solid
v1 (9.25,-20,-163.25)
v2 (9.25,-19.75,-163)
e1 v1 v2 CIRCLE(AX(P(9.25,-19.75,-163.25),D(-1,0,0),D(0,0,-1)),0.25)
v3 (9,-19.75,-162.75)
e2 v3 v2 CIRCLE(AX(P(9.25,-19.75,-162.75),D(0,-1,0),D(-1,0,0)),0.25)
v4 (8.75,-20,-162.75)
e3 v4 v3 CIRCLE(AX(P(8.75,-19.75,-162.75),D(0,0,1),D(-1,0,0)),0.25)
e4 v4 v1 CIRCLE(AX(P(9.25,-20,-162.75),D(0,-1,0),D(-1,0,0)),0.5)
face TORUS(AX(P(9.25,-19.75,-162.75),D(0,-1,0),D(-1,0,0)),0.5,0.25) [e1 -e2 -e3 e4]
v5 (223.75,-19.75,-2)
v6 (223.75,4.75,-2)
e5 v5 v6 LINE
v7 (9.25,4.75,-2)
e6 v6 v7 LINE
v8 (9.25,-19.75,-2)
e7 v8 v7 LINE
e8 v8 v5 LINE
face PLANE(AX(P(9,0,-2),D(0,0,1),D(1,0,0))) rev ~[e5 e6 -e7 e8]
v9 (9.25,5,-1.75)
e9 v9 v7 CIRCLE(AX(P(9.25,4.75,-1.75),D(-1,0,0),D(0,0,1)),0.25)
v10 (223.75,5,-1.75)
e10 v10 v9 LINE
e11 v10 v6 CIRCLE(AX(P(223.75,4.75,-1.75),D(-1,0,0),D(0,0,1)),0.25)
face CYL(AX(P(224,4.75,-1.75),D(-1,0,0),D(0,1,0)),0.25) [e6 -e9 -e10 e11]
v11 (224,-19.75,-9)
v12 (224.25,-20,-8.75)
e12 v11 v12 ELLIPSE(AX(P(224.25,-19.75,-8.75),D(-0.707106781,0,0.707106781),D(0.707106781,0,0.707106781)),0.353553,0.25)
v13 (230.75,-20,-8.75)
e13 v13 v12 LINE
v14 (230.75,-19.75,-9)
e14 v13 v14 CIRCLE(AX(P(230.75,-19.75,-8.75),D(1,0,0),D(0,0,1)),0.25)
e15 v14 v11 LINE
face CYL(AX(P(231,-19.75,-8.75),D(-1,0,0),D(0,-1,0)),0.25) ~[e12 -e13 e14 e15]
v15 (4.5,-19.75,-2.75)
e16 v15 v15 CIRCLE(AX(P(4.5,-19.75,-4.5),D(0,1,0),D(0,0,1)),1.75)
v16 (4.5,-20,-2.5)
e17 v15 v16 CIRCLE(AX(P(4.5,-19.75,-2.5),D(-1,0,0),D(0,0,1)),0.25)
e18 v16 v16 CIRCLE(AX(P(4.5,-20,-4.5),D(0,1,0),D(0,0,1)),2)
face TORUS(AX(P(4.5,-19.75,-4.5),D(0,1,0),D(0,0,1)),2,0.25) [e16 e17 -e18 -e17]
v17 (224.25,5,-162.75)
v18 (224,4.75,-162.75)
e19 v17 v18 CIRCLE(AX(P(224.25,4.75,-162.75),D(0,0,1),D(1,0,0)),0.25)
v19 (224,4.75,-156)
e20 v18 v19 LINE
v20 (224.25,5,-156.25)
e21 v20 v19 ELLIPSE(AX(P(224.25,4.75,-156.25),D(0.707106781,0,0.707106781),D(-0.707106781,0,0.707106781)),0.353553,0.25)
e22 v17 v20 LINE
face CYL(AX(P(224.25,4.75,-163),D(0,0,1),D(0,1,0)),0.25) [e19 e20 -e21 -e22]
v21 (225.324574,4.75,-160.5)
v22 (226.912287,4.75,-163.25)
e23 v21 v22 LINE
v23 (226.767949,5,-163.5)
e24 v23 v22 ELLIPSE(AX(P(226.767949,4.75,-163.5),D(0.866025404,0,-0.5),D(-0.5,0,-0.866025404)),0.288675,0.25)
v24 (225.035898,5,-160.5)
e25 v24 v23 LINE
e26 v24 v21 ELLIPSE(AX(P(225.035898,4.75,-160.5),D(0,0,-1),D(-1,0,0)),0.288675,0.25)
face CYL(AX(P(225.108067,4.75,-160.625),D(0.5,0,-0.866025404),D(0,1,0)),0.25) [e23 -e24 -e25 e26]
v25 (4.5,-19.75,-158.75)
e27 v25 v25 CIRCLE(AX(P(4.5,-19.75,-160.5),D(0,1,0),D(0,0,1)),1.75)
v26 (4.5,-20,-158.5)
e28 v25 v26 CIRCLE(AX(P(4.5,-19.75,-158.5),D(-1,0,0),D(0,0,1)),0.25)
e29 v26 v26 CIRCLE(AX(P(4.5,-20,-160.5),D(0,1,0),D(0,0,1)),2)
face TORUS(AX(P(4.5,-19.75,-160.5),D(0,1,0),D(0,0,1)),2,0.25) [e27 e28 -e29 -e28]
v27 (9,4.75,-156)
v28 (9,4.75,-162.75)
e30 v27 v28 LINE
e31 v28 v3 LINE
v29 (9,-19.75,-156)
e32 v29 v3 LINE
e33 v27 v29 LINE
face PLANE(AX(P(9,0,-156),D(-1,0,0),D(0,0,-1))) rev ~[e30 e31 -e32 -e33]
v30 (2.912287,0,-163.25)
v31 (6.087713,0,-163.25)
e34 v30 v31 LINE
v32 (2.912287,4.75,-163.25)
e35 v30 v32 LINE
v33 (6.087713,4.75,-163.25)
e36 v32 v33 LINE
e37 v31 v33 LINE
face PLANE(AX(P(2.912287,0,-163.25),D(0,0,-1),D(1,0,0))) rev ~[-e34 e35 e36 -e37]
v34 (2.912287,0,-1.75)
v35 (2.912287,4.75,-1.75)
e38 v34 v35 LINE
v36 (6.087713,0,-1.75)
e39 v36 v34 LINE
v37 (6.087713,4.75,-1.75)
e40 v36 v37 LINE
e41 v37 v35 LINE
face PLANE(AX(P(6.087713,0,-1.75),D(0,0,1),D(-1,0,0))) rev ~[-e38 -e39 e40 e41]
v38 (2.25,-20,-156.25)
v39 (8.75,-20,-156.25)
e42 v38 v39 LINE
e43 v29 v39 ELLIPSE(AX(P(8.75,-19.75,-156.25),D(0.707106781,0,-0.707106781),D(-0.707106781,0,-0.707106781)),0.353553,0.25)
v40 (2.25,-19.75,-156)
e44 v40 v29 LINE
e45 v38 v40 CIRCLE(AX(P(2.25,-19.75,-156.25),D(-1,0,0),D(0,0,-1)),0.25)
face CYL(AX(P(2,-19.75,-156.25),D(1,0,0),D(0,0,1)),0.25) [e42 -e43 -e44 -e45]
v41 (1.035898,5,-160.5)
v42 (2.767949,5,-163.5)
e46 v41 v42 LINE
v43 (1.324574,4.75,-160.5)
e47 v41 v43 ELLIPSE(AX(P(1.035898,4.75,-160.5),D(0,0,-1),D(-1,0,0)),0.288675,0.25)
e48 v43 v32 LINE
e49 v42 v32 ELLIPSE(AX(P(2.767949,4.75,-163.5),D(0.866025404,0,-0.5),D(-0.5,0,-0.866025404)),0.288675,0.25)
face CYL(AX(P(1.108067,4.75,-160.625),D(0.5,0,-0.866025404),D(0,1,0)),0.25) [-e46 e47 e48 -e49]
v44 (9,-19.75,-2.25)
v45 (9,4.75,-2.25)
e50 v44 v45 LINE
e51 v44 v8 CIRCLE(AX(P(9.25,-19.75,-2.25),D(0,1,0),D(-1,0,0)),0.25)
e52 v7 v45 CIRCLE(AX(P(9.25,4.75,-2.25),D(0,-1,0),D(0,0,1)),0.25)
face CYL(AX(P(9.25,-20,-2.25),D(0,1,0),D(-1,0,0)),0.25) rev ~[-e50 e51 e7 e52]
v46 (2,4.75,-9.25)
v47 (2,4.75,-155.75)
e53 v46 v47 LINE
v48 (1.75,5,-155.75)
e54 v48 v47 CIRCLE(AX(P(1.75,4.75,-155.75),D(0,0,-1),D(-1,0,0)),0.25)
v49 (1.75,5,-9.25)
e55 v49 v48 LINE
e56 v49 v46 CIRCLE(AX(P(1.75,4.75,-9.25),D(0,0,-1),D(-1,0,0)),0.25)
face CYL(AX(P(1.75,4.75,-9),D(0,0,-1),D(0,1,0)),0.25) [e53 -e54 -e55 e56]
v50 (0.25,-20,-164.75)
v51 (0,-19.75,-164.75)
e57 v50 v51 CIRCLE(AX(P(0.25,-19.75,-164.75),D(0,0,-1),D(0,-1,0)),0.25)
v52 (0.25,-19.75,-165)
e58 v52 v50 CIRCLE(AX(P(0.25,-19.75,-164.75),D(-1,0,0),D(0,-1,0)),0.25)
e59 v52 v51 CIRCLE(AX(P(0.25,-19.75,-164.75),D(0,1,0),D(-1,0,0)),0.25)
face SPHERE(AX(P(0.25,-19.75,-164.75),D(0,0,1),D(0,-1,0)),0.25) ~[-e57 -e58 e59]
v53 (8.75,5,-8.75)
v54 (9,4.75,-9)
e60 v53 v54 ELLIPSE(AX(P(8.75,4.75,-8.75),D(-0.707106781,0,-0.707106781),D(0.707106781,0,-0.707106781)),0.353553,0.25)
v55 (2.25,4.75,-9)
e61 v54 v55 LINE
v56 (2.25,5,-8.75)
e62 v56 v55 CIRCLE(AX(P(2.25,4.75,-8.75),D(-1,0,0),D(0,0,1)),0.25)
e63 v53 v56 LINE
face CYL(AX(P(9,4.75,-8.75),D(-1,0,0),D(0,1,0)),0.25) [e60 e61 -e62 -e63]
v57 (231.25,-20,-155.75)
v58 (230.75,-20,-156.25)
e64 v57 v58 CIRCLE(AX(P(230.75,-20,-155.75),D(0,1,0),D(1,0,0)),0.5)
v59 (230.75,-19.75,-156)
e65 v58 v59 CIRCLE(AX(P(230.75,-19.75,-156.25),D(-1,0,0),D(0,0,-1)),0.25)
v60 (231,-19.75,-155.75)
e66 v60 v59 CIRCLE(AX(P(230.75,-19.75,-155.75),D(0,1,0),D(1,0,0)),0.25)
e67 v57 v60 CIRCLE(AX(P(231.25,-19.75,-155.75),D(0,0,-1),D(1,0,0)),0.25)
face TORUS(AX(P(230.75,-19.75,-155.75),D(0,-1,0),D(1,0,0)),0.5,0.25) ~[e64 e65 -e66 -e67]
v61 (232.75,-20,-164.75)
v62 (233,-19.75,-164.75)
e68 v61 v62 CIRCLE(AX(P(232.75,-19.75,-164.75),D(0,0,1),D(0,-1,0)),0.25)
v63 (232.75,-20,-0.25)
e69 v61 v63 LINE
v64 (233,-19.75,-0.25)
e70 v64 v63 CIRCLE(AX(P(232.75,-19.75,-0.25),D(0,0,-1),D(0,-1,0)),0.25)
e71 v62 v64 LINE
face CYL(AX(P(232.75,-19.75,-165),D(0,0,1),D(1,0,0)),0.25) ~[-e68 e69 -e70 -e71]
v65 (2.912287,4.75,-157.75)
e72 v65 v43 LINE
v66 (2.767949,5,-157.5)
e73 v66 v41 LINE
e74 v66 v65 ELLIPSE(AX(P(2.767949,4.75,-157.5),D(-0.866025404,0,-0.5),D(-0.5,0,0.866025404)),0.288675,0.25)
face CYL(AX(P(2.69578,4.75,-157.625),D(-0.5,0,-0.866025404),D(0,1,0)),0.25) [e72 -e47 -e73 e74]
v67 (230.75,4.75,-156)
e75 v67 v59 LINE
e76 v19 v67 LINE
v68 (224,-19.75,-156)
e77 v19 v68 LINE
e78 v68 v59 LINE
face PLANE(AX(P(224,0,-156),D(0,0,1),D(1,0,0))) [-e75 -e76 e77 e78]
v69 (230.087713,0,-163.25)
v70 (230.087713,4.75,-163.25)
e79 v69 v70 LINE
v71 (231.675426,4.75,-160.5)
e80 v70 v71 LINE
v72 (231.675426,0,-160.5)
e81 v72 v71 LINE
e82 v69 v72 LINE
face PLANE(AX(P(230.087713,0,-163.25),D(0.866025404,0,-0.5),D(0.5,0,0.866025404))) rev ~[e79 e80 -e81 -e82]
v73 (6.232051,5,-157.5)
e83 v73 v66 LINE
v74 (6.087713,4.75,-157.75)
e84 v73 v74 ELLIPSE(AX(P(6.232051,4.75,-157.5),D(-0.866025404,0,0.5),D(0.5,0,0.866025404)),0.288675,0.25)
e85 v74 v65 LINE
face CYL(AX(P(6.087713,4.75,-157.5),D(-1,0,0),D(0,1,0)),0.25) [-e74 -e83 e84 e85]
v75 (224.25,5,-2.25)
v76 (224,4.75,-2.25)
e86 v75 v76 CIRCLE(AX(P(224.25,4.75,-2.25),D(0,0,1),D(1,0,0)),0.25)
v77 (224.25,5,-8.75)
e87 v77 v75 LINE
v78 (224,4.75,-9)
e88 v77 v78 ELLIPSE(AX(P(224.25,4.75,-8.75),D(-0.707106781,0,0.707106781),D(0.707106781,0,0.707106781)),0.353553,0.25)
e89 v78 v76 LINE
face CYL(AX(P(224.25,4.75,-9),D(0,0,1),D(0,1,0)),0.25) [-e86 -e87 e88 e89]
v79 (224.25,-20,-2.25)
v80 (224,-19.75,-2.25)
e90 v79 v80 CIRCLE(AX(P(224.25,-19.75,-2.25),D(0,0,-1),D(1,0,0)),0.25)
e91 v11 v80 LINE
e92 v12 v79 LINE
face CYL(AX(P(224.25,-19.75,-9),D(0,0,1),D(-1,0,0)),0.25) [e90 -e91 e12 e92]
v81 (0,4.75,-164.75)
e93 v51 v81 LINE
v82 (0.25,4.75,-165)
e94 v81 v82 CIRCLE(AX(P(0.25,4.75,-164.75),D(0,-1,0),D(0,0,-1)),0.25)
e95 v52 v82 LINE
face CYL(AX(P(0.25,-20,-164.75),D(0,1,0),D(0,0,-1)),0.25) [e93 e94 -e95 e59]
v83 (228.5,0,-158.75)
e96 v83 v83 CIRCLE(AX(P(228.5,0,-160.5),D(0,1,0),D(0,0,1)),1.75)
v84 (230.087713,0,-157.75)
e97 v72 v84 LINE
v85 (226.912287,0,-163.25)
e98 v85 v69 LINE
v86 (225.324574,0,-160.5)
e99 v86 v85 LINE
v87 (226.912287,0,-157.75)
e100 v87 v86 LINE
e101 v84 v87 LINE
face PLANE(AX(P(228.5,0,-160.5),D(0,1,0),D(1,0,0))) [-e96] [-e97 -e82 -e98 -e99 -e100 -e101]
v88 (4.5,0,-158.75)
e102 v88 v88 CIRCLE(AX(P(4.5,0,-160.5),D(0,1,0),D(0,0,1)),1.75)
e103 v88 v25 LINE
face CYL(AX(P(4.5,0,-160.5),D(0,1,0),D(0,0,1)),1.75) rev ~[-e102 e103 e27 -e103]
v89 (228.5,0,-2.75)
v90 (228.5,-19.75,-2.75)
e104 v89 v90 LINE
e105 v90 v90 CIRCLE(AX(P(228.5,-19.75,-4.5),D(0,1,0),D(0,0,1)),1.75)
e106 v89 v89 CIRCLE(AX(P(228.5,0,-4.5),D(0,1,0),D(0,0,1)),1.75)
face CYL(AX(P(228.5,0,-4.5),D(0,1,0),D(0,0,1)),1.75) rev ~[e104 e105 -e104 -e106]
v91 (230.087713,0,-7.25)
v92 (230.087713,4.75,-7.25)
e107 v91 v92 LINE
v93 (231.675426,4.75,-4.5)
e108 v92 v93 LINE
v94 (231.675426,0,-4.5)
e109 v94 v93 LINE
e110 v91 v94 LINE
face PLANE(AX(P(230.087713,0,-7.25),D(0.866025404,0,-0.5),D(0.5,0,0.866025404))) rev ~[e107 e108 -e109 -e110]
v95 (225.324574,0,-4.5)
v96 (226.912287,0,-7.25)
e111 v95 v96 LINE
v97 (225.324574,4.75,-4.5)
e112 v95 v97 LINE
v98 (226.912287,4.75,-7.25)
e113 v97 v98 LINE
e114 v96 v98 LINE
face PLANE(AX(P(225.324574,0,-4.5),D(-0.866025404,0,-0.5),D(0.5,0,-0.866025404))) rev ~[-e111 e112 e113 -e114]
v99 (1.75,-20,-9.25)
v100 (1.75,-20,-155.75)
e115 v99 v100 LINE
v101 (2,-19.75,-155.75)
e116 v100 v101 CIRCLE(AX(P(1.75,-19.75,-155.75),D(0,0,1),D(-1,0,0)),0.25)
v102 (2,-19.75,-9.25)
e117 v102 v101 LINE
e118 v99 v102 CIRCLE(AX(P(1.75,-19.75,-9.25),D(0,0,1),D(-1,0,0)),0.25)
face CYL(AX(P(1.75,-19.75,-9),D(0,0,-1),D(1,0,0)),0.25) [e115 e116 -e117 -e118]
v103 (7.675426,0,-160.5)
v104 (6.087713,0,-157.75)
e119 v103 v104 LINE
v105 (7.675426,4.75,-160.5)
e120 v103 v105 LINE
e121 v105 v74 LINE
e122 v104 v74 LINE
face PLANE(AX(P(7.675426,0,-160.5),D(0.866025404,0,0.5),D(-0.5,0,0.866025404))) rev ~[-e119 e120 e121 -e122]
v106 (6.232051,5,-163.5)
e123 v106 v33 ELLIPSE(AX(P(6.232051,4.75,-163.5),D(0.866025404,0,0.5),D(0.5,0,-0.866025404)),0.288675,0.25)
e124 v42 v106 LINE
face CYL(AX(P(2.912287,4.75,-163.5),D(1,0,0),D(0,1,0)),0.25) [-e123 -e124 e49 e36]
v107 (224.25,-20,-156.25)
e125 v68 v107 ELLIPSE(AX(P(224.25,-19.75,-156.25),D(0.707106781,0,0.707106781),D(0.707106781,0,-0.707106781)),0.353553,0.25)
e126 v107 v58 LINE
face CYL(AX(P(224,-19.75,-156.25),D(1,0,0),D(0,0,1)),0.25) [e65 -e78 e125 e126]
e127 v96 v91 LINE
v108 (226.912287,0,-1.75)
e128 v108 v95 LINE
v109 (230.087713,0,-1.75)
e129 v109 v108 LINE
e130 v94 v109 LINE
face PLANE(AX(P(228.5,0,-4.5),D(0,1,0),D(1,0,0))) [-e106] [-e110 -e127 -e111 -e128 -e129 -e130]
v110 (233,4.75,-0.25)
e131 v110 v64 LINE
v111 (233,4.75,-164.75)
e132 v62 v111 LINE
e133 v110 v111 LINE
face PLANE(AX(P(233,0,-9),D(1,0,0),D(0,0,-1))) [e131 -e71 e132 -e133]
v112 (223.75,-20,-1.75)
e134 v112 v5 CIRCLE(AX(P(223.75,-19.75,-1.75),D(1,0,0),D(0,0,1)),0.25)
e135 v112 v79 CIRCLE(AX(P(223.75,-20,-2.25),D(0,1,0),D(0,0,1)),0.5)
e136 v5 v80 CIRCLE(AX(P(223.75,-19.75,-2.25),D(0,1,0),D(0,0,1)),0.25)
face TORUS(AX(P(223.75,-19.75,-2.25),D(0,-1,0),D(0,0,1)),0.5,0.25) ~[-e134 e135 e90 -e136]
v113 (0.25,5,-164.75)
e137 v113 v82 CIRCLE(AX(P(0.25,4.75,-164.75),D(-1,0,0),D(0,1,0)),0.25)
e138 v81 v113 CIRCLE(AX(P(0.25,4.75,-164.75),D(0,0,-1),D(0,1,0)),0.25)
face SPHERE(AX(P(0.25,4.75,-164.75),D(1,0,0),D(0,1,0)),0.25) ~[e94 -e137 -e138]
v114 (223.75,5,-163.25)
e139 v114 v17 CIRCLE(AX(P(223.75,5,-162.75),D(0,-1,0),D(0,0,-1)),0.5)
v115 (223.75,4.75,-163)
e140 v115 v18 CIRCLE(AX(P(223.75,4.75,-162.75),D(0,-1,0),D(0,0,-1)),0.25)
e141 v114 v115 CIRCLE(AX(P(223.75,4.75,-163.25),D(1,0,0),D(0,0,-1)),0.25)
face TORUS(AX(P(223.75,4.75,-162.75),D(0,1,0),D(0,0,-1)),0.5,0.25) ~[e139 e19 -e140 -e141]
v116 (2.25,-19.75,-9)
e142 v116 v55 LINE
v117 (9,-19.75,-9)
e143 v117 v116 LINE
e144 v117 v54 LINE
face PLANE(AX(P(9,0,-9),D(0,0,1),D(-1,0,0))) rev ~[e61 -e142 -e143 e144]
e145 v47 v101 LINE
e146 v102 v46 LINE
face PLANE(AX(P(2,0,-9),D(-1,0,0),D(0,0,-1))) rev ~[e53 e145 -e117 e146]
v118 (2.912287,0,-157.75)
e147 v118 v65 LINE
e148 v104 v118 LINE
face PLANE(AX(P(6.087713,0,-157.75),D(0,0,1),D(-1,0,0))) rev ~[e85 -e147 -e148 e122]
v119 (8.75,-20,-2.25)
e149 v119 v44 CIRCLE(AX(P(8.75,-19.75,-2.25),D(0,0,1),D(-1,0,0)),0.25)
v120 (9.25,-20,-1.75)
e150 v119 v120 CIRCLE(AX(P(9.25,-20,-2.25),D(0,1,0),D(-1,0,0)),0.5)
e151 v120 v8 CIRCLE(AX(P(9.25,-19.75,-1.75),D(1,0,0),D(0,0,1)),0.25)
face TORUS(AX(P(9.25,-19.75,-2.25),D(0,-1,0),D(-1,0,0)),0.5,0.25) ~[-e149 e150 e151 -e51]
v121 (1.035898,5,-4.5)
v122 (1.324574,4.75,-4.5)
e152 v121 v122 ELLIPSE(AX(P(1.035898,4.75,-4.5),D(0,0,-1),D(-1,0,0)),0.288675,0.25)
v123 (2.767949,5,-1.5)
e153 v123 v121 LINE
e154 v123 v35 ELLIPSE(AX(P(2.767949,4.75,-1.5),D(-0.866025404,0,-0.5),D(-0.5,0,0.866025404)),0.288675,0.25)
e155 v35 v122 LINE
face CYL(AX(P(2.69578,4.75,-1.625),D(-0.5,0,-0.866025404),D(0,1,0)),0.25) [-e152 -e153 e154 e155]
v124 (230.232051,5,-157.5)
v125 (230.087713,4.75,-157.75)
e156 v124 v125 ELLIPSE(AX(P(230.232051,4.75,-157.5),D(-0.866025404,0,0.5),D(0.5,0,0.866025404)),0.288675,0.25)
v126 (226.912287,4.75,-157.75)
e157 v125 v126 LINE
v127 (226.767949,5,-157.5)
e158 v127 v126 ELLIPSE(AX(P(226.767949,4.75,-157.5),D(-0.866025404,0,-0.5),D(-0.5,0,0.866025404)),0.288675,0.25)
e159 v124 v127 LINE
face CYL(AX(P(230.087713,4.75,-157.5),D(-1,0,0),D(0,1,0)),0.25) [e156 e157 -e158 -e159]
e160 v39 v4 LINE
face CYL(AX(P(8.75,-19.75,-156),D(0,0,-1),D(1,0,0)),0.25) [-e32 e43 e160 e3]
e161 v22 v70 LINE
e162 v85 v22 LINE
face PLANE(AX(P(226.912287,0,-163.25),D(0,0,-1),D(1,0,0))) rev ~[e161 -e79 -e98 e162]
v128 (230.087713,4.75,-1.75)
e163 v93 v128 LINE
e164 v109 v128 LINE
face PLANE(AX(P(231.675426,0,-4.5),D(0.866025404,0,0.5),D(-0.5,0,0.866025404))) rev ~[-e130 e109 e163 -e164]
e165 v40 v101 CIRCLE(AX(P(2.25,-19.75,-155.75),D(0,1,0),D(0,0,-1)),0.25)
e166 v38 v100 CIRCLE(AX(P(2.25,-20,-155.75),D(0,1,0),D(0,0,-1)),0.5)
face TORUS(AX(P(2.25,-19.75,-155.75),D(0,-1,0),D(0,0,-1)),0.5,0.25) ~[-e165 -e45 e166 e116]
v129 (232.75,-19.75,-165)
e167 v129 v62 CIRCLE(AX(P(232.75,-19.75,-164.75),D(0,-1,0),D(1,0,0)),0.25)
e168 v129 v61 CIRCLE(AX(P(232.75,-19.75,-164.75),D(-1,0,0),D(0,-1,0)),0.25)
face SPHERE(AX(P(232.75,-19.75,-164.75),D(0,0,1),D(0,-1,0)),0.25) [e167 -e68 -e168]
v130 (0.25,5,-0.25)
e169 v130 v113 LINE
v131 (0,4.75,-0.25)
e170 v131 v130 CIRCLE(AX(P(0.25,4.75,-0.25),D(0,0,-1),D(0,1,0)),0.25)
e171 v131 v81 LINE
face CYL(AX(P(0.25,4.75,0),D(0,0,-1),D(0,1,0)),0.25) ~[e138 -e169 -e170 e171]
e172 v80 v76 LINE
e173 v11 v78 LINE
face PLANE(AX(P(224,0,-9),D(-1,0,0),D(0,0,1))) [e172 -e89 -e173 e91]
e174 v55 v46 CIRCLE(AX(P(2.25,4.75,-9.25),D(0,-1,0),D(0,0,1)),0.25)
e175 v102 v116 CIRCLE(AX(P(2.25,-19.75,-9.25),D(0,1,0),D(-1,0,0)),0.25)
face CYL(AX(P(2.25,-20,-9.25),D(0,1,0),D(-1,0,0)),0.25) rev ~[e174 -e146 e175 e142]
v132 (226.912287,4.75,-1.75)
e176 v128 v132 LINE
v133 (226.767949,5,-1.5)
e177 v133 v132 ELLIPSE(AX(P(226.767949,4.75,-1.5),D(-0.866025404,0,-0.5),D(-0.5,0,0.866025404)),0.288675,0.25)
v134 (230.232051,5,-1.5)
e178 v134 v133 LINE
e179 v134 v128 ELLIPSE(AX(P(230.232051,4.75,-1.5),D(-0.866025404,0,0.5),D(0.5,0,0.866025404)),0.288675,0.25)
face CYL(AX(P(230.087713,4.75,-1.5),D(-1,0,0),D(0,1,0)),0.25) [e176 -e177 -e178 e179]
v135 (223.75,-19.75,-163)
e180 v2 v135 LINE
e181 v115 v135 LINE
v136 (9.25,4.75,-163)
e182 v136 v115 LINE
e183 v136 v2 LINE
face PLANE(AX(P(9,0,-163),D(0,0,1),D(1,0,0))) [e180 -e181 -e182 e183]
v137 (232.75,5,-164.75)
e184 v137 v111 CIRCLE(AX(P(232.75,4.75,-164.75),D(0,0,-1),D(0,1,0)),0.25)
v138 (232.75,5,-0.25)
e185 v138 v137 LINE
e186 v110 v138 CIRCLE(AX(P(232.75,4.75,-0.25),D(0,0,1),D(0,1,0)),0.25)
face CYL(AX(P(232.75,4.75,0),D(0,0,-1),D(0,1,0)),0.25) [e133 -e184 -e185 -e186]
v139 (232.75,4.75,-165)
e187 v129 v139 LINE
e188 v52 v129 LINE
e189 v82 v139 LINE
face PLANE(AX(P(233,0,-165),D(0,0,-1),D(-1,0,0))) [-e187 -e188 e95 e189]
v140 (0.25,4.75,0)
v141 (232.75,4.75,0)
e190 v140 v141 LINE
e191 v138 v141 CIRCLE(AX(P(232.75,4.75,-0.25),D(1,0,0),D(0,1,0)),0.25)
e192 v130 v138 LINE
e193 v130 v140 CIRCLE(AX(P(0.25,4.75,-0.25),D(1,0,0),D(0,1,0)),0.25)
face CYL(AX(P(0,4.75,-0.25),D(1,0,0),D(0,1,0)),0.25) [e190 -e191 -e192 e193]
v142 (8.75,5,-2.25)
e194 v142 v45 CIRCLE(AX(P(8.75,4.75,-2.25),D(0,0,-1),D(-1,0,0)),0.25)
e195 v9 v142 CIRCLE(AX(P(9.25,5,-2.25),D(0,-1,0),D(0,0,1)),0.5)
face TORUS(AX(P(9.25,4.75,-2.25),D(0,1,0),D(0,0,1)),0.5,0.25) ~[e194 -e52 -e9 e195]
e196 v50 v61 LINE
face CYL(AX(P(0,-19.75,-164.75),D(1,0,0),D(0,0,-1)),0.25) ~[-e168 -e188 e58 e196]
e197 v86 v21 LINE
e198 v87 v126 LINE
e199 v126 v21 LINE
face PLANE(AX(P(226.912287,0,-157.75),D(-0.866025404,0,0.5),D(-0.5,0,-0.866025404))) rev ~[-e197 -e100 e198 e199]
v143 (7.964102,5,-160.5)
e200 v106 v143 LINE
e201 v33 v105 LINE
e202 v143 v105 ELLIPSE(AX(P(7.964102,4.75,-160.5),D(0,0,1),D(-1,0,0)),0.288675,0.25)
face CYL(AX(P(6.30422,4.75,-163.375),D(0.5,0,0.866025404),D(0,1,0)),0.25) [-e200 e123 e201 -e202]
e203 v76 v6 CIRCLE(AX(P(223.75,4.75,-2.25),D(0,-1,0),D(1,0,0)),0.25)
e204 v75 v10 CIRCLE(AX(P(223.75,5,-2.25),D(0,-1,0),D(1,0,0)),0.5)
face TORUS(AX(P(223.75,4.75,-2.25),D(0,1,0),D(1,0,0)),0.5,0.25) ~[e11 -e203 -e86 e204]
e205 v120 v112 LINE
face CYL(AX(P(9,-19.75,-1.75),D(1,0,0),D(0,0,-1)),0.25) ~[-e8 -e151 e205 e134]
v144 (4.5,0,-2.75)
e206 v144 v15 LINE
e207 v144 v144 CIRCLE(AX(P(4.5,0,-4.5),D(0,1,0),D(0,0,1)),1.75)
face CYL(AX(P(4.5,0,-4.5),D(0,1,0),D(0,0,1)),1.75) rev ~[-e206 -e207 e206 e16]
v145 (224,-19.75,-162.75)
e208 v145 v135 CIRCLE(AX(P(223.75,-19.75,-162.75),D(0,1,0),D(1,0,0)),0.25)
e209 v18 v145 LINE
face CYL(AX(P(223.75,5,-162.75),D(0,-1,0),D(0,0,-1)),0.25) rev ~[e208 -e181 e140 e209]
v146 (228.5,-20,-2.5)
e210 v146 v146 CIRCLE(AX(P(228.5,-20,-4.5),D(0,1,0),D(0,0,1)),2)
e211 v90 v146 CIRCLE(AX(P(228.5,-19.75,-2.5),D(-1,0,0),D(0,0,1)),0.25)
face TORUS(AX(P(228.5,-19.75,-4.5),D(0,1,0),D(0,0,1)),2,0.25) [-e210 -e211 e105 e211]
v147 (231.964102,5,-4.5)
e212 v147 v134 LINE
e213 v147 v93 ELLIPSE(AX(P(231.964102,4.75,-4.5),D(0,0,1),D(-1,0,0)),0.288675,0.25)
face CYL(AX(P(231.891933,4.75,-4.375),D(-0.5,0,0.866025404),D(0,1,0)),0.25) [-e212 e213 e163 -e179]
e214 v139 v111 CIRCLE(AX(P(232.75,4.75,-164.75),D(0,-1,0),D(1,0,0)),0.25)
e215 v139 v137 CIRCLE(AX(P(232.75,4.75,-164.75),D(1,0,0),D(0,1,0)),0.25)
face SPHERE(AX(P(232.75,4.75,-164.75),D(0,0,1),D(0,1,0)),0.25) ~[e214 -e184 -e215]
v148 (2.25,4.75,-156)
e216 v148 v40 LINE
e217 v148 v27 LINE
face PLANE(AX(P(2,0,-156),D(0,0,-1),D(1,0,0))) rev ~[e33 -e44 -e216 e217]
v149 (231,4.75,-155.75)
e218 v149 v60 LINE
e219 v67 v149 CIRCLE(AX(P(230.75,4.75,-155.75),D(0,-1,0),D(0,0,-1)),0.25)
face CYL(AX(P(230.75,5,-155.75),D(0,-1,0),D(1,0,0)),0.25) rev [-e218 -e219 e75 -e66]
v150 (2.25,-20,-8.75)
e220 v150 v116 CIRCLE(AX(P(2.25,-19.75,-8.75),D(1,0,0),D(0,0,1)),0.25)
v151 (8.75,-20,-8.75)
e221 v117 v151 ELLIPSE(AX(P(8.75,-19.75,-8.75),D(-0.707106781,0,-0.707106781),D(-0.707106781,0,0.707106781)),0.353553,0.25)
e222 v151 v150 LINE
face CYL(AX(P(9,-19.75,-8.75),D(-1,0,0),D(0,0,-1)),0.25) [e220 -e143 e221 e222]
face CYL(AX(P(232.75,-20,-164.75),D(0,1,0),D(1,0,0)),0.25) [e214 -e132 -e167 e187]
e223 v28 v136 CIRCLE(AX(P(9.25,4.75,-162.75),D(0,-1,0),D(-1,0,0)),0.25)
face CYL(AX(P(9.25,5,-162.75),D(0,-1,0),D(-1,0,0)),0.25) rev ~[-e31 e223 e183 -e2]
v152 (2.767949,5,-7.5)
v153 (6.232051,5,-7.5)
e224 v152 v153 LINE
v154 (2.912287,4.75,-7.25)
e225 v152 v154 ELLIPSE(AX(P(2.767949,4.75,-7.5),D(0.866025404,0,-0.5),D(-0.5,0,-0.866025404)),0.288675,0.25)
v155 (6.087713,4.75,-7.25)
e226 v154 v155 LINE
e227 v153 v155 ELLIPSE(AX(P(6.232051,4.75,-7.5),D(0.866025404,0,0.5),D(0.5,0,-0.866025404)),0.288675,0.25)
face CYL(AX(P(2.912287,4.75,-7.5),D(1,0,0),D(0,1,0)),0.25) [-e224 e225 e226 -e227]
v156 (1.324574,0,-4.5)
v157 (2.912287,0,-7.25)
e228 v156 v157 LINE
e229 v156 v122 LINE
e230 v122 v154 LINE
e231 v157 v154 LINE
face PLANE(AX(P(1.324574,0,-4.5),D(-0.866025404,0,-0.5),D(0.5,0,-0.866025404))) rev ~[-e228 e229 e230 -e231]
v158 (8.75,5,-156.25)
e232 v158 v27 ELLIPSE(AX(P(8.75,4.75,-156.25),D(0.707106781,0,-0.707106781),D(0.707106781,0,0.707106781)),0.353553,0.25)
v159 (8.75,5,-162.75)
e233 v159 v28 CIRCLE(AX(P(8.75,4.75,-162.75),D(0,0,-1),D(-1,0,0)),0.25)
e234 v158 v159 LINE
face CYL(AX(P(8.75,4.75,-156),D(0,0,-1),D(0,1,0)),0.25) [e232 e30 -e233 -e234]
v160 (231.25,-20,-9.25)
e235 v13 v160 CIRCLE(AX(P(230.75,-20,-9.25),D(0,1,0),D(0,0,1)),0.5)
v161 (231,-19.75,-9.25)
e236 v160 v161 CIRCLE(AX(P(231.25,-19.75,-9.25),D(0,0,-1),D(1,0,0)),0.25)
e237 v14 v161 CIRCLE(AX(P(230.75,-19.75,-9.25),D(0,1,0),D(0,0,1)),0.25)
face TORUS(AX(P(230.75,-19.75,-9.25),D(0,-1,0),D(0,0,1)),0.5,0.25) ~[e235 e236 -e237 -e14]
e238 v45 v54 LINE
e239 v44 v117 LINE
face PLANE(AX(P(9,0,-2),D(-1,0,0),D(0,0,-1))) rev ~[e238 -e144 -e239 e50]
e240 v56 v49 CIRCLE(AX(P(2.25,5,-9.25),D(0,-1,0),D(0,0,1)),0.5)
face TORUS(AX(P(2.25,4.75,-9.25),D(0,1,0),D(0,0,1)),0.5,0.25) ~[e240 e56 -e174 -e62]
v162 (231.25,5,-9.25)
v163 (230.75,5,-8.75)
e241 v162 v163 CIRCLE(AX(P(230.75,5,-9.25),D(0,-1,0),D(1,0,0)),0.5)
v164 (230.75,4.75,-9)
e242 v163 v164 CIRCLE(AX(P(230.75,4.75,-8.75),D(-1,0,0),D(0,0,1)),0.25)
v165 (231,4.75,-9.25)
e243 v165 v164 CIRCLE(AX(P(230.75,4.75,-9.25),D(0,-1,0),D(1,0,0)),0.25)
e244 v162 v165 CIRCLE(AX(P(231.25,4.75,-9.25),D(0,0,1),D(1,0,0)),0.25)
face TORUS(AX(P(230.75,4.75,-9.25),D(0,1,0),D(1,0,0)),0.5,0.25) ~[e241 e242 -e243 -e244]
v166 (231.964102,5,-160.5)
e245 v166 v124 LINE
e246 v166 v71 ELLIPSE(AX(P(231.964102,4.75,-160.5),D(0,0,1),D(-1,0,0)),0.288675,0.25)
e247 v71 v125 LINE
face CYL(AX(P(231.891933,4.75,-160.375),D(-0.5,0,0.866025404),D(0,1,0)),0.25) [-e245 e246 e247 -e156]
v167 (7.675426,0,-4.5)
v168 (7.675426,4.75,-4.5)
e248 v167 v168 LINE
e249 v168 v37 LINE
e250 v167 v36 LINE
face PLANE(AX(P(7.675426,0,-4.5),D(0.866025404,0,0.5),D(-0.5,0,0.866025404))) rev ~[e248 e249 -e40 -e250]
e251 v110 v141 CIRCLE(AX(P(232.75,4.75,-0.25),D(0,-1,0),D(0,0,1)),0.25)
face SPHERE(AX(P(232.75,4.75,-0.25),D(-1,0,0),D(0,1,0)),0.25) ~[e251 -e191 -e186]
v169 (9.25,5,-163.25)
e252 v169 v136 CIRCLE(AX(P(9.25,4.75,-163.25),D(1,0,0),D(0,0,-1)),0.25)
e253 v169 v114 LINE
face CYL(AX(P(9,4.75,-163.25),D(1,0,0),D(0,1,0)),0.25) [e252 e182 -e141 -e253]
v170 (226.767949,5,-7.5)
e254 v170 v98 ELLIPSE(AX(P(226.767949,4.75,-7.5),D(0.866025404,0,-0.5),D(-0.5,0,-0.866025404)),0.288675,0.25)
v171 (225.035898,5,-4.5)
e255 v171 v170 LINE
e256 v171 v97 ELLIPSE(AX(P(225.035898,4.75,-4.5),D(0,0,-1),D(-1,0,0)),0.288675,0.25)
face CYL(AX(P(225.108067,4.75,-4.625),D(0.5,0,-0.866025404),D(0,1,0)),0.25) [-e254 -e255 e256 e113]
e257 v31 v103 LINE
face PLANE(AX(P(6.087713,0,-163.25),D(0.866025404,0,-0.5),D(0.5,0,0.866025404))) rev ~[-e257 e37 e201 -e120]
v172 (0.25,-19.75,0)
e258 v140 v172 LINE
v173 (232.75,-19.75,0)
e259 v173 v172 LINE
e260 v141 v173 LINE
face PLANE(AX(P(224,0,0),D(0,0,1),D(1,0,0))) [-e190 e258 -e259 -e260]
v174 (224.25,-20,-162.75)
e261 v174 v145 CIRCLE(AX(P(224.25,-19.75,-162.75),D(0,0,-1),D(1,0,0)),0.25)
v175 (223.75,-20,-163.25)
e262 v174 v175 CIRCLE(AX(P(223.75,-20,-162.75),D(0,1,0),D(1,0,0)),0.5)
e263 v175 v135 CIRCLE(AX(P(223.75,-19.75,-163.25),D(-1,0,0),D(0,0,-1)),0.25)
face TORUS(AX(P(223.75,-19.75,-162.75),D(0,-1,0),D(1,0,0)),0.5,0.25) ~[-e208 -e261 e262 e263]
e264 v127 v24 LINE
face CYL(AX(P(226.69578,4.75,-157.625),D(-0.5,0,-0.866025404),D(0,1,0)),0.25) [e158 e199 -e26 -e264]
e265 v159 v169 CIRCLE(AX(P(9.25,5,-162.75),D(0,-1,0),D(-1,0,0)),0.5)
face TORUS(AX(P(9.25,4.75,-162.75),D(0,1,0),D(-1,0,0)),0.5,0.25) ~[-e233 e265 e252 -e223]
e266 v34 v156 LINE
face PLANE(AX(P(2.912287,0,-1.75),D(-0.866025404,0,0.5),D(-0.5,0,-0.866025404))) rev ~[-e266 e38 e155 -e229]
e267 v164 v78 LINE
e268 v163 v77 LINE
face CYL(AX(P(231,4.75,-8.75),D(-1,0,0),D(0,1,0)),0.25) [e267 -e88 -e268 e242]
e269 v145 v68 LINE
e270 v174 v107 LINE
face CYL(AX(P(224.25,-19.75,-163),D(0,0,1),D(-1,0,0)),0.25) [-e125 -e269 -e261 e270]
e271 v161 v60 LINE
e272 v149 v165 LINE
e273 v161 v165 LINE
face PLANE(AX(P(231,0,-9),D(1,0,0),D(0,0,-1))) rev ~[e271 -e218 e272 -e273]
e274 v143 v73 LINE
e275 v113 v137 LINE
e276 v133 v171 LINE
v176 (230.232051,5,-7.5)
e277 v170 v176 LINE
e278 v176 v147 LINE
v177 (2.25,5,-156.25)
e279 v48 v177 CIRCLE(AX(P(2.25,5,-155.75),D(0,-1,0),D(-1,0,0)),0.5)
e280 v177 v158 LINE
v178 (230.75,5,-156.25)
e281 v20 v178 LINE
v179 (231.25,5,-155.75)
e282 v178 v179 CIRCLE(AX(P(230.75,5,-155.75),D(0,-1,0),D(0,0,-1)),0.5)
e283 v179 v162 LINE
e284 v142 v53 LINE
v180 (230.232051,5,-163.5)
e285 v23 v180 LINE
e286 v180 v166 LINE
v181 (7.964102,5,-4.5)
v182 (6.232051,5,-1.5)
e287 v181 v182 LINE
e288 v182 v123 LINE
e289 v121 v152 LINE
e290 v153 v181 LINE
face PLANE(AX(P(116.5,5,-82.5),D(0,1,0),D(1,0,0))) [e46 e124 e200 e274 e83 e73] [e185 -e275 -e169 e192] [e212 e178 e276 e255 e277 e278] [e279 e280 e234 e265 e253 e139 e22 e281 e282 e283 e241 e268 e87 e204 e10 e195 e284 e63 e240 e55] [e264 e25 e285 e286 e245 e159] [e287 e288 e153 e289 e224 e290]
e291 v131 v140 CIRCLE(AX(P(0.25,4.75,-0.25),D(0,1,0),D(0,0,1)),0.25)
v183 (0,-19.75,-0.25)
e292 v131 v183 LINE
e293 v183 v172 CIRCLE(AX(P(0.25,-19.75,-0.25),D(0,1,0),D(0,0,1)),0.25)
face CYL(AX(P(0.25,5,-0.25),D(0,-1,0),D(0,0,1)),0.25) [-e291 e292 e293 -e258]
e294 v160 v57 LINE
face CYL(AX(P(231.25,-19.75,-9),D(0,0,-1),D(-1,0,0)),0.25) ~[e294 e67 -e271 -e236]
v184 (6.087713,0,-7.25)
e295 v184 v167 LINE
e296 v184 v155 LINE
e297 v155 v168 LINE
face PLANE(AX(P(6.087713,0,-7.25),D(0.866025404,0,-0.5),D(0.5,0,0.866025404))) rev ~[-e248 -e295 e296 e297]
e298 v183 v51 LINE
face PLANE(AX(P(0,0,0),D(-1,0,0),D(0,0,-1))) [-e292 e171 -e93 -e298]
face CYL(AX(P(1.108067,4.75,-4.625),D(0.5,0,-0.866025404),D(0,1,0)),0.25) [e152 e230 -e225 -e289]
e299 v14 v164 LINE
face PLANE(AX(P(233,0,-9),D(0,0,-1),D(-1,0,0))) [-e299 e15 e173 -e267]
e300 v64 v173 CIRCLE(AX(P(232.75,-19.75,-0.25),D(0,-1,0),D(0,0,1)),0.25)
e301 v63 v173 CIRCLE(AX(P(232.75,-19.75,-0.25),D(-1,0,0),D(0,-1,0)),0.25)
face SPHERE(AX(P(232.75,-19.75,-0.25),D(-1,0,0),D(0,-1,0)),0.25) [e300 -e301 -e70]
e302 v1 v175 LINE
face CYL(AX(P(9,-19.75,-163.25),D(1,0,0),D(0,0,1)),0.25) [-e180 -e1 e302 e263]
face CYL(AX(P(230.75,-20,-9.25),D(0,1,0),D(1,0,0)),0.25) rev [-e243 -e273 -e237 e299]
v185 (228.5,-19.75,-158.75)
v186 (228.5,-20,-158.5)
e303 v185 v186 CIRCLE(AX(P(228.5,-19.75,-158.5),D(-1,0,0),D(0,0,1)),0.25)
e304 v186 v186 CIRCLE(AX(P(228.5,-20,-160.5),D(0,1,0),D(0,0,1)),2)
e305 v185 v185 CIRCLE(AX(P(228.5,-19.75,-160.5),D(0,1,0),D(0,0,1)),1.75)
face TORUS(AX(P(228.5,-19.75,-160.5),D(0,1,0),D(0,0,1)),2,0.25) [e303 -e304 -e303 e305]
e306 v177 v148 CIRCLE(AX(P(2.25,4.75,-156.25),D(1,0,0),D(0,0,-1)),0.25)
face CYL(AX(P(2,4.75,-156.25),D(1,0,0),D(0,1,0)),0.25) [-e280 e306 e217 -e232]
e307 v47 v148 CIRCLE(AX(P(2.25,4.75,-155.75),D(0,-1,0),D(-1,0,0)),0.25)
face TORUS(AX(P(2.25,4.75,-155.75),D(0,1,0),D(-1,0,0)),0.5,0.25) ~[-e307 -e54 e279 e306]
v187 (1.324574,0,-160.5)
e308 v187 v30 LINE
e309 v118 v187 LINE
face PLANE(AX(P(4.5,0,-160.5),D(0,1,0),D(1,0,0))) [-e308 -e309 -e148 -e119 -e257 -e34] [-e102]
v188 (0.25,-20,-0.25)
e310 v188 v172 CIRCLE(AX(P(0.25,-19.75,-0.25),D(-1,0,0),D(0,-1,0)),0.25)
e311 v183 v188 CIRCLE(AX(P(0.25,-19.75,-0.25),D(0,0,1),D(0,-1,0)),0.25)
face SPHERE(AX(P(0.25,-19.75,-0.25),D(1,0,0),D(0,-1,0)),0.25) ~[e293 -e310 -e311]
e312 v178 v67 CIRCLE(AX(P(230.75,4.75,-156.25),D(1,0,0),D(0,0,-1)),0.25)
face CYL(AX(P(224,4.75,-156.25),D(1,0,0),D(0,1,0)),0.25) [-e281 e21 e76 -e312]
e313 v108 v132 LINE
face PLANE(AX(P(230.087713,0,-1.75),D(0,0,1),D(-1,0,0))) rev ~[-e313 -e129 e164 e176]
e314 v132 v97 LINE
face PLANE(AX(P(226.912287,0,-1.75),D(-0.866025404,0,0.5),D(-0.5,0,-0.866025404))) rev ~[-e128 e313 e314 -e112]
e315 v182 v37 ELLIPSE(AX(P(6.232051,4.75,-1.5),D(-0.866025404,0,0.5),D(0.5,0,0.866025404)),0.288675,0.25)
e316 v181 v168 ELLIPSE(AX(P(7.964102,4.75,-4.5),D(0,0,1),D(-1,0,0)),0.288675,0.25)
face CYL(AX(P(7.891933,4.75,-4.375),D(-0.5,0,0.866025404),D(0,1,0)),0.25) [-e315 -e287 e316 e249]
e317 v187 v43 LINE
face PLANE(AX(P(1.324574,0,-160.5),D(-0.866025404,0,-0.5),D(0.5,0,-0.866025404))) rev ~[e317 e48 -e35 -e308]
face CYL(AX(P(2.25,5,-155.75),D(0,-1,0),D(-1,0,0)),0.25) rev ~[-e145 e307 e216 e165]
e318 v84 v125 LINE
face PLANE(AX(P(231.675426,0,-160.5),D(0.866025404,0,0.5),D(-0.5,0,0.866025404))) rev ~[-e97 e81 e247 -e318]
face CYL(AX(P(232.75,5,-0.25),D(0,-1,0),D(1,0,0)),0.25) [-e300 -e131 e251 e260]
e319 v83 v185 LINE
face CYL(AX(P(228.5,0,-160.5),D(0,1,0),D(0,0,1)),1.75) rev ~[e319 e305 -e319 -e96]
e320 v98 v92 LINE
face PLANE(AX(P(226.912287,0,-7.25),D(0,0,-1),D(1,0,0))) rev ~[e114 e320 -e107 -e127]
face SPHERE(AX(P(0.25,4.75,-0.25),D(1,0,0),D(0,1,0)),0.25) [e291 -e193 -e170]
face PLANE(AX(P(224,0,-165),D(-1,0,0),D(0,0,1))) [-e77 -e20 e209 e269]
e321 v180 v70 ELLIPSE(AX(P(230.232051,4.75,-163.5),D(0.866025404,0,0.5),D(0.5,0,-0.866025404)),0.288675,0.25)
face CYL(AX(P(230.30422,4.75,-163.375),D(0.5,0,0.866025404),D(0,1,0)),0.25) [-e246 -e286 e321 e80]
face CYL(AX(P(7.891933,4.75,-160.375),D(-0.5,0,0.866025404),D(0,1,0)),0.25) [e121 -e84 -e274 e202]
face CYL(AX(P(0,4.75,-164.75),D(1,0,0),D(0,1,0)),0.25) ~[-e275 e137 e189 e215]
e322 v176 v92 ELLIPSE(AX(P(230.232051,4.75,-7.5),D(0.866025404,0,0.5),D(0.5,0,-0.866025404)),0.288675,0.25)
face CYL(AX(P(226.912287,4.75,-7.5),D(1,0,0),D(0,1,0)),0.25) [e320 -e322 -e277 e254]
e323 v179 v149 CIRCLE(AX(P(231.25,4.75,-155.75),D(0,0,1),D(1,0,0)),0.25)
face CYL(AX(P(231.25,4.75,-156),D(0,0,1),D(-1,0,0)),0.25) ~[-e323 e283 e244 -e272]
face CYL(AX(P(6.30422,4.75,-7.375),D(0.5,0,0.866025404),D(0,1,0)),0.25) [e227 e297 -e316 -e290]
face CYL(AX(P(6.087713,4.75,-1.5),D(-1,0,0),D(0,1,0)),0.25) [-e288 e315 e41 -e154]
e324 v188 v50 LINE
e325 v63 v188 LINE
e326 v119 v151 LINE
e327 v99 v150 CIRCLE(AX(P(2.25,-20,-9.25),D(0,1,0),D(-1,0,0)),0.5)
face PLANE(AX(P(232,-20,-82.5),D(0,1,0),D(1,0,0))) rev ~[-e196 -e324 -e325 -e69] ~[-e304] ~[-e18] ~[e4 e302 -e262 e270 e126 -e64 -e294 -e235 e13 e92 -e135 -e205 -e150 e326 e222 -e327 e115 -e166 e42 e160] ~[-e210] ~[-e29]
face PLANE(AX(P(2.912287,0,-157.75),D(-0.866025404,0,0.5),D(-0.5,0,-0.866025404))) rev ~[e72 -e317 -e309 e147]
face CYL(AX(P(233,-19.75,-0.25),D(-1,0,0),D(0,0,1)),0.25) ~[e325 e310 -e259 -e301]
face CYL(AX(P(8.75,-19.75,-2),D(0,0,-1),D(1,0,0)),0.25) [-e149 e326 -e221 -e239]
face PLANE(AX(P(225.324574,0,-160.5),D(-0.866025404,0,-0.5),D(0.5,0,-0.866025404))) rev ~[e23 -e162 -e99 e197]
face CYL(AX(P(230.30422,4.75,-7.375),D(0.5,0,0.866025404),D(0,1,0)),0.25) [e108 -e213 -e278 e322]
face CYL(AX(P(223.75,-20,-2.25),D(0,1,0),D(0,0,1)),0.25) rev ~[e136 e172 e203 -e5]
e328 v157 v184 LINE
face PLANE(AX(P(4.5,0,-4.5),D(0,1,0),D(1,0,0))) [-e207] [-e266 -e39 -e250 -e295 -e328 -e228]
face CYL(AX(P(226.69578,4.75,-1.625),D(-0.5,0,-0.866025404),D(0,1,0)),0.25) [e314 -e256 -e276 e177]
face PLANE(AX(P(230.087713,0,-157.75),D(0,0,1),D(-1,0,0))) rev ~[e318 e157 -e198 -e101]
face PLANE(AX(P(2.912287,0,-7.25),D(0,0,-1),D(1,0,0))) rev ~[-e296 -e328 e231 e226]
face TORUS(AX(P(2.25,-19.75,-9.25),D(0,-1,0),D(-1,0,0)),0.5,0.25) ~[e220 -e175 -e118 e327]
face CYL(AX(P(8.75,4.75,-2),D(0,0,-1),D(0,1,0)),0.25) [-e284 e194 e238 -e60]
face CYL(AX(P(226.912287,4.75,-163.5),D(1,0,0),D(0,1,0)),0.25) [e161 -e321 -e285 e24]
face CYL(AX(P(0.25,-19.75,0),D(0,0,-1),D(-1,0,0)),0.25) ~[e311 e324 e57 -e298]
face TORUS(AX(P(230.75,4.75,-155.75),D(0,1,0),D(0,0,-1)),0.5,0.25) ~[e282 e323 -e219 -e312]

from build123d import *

# Parameters (mm, degrees)
SKETCH1_W           = 233
SKETCH1_H           = 165
BOSS_EXTRUDE1_DEPTH = 5
SKETCH1_3_W         = 2
SKETCH1_3_H         = 147
SKETCH1_3_W_2       = 215
SKETCH1_3_H_2       = 2
SKETCH1_3_R         = 1.75
BOSS_EXTRUDE3_DEPTH = 20
FILLET1_R           = 0.25


with BuildPart() as part:
    # Sketch1 → Boss-Extrude1 (new body)
    with BuildSketch(Plane(origin=(0, 0, 0), x_dir=(1, 0, 0), z_dir=(0, 1, 0))):
        with Locations((116.5, 82.5)):
            Rectangle(SKETCH1_W, SKETCH1_H)
        Polygon((231, 9), (224, 9), (224, 2), (9, 2), (9, 9), (2, 9), (2, 156), (9, 156), (9, 163), (224, 163), (224, 156), (231, 156), align=None, mode=Mode.SUBTRACT)
        Polygon((6.08771324, 163.25), (7.675426481, 160.5), (6.08771324, 157.75), (2.91228676, 157.75), (1.324573519, 160.5), (2.91228676, 163.25), align=None, mode=Mode.SUBTRACT)
        Polygon((7.675426481, 4.5), (6.08771324, 1.75), (2.91228676, 1.75), (1.324573519, 4.5), (2.91228676, 7.25), (6.08771324, 7.25), align=None, mode=Mode.SUBTRACT)
        Polygon((231.675426481, 160.5), (230.08771324, 157.75), (226.91228676, 157.75), (225.324573519, 160.5), (226.91228676, 163.25), (230.08771324, 163.25), align=None, mode=Mode.SUBTRACT)
        Polygon((231.675426481, 4.5), (230.08771324, 1.75), (226.91228676, 1.75), (225.324573519, 4.5), (226.91228676, 7.25), (230.08771324, 7.25), align=None, mode=Mode.SUBTRACT)
    extrude(amount=BOSS_EXTRUDE1_DEPTH)

    # Sketch1<3> → Boss-Extrude3 (add)
    # profile 1 of 12: a face of its own
    with BuildSketch(Plane(origin=(0, 0, 0), x_dir=(1, 0, 0), z_dir=(0, 1, 0))):
        with Locations((232, 82.5)):
            Rectangle(SKETCH1_3_W, SKETCH1_3_H)
    # profile 2 of 12: a face of its own
    with BuildSketch(Plane(origin=(0, 0, 0), x_dir=(1, 0, 0), z_dir=(0, 1, 0))):
        Polygon((233, 165), (224, 165), (224, 163), (224, 156), (231, 156), (233, 156), align=None)
        Polygon((230.08771324, 163.25), (231.675426481, 160.5), (230.08771324, 157.75), (226.91228676, 157.75), (225.324573519, 160.5), (226.91228676, 163.25), align=None, mode=Mode.SUBTRACT)
    # profile 3 of 12: a face of its own
    with BuildSketch(Plane(origin=(0, 0, 0), x_dir=(1, 0, 0), z_dir=(0, 1, 0))):
        with Locations((116.5, 164)):
            Rectangle(SKETCH1_3_W_2, SKETCH1_3_H_2)
    # profile 4 of 12: a face of its own
    with BuildSketch(Plane(origin=(0, 0, 0), x_dir=(1, 0, 0), z_dir=(0, 1, 0))):
        Polygon((0, 165), (0, 156), (2, 156), (9, 156), (9, 163), (9, 165), align=None)
        Polygon((6.08771324, 163.25), (7.675426481, 160.5), (6.08771324, 157.75), (2.91228676, 157.75), (1.324573519, 160.5), (2.91228676, 163.25), align=None, mode=Mode.SUBTRACT)
    # profile 5 of 12: a face of its own
    with BuildSketch(Plane(origin=(0, 0, 0), x_dir=(1, 0, 0), z_dir=(0, 1, 0))):
        Polygon((2.91228676, 157.75), (6.08771324, 157.75), (7.675426481, 160.5), (6.08771324, 163.25), (2.91228676, 163.25), (1.324573519, 160.5), align=None)
        with Locations(Location((4.5, 160.5, 0), (0, 0, 270))):
            Circle(SKETCH1_3_R, mode=Mode.SUBTRACT)
    # profile 6 of 12: a face of its own
    with BuildSketch(Plane(origin=(0, 0, 0), x_dir=(1, 0, 0), z_dir=(0, 1, 0))):
        with Locations((1, 82.5)):
            Rectangle(SKETCH1_3_W, SKETCH1_3_H)
    # profile 7 of 12: a face of its own
    with BuildSketch(Plane(origin=(0, 0, 0), x_dir=(1, 0, 0), z_dir=(0, 1, 0))):
        Polygon((226.91228676, 157.75), (230.08771324, 157.75), (231.675426481, 160.5), (230.08771324, 163.25), (226.91228676, 163.25), (225.324573519, 160.5), align=None)
        with Locations(Location((228.5, 160.5, 0), (0, 0, 270))):
            Circle(SKETCH1_3_R, mode=Mode.SUBTRACT)
    # profile 8 of 12: a face of its own
    with BuildSketch(Plane(origin=(0, 0, 0), x_dir=(1, 0, 0), z_dir=(0, 1, 0))):
        Polygon((224, 2), (224, 0), (233, 0), (233, 9), (231, 9), (224, 9), align=None)
        Polygon((230.08771324, 7.25), (231.675426481, 4.5), (230.08771324, 1.75), (226.91228676, 1.75), (225.324573519, 4.5), (226.91228676, 7.25), align=None, mode=Mode.SUBTRACT)
    # profile 9 of 12: a face of its own
    with BuildSketch(Plane(origin=(0, 0, 0), x_dir=(1, 0, 0), z_dir=(0, 1, 0))):
        Polygon((226.91228676, 1.75), (230.08771324, 1.75), (231.675426481, 4.5), (230.08771324, 7.25), (226.91228676, 7.25), (225.324573519, 4.5), align=None)
        with Locations(Location((228.5, 4.5, 0), (0, 0, 270))):
            Circle(SKETCH1_3_R, mode=Mode.SUBTRACT)
    # profile 10 of 12: a face of its own
    with BuildSketch(Plane(origin=(0, 0, 0), x_dir=(1, 0, 0), z_dir=(0, 1, 0))):
        with Locations((116.5, 1)):
            Rectangle(SKETCH1_3_W_2, SKETCH1_3_H_2)
    # profile 11 of 12: a face of its own
    with BuildSketch(Plane(origin=(0, 0, 0), x_dir=(1, 0, 0), z_dir=(0, 1, 0))):
        Polygon((2, 9), (0, 9), (0, 0), (9, 0), (9, 2), (9, 9), align=None)
        Polygon((6.08771324, 7.25), (7.675426481, 4.5), (6.08771324, 1.75), (2.91228676, 1.75), (1.324573519, 4.5), (2.91228676, 7.25), align=None, mode=Mode.SUBTRACT)
    # profile 12 of 12: a face of its own
    with BuildSketch(Plane(origin=(0, 0, 0), x_dir=(1, 0, 0), z_dir=(0, 1, 0))):
        Polygon((2.91228676, 1.75), (6.08771324, 1.75), (7.675426481, 4.5), (6.08771324, 7.25), (2.91228676, 7.25), (1.324573519, 4.5), align=None)
        with Locations(Location((4.5, 4.5, 0), (0, 0, 270))):
            Circle(SKETCH1_3_R, mode=Mode.SUBTRACT)
    extrude(amount=-BOSS_EXTRUDE3_DEPTH)

    # Fillet1
    fillet1_edges = [part.edges().sort_by_distance(p)[0] for p in [
        (224, 5, -5.5),
        (116.5, 5, 0),
        (233, 5, -82.5),
        (116.5, 5, -165),
        (0, 5, -82.5),
        (230.88156986, 5, -159.125),
        (116.5, -20, 0),
        (0, -20, -82.5),
        (228.5, 5, -157.75),
        (9, -20, -159.5),
        (5.5, -20, -156),
        (2, -20, -82.5),
        (5.5, -20, -9),
        (9, -20, -5.5),
        (226.11843014, 5, -159.125),
        (116.5, -20, -2),
        (224, -20, -5.5),
        (227.5, -20, -9),
        (231, -20, -82.5),
        (227.5, -20, -156),
        (224, -20, -159.5),
        (116.5, -20, -163),
        (233, -20, -82.5),
        (116.5, -20, -165),
        (228.5, -20, -6.25),
        (228.5, -20, -162.25),
        (4.5, -20, -6.25),
        (4.5, -20, -162.25),
        (226.11843014, 5, -161.875),
        (228.5, 5, -163.25),
        (116.5, 5, -2),
        (230.88156986, 5, -161.875),
        (6.88156986, 5, -3.125),
        (4.5, 5, -1.75),
        (2.11843014, 5, -3.125),
        (2.11843014, 5, -5.875),
        (4.5, 5, -7.25),
        (6.88156986, 5, -5.875),
        (230.88156986, 5, -3.125),
        (228.5, 5, -1.75),
        (226.11843014, 5, -3.125),
        (9, 5, -5.5),
        (226.11843014, 5, -5.875),
        (228.5, 5, -7.25),
        (230.88156986, 5, -5.875),
        (5.5, 5, -9),
        (2, 5, -82.5),
        (5.5, 5, -156),
        (9, 5, -159.5),
        (116.5, 5, -163),
        (224, 5, -159.5),
        (227.5, 5, -156),
        (231, 5, -82.5),
        (227.5, 5, -9),
        (6.88156986, 5, -159.125),
        (4.5, 5, -157.75),
        (0, -7.5, 0),
        (0, -7.5, -165),
        (233, -7.5, -165),
        (233, -7.5, 0),
        (2.11843014, 5, -159.125),
        (231, -7.5, -9),
        (231, -7.5, -156),
        (224, -7.5, -163),
        (9, -7.5, -163),
        (2, -7.5, -156),
        (2, -7.5, -9),
        (9, -7.5, -2),
        (224, -7.5, -2),
        (2.11843014, 5, -161.875),
        (4.5, 5, -163.25),
        (6.88156986, 5, -161.875),
    ]]
    fillet(fillet1_edges, radius=FILLET1_R)


solid = part.part
